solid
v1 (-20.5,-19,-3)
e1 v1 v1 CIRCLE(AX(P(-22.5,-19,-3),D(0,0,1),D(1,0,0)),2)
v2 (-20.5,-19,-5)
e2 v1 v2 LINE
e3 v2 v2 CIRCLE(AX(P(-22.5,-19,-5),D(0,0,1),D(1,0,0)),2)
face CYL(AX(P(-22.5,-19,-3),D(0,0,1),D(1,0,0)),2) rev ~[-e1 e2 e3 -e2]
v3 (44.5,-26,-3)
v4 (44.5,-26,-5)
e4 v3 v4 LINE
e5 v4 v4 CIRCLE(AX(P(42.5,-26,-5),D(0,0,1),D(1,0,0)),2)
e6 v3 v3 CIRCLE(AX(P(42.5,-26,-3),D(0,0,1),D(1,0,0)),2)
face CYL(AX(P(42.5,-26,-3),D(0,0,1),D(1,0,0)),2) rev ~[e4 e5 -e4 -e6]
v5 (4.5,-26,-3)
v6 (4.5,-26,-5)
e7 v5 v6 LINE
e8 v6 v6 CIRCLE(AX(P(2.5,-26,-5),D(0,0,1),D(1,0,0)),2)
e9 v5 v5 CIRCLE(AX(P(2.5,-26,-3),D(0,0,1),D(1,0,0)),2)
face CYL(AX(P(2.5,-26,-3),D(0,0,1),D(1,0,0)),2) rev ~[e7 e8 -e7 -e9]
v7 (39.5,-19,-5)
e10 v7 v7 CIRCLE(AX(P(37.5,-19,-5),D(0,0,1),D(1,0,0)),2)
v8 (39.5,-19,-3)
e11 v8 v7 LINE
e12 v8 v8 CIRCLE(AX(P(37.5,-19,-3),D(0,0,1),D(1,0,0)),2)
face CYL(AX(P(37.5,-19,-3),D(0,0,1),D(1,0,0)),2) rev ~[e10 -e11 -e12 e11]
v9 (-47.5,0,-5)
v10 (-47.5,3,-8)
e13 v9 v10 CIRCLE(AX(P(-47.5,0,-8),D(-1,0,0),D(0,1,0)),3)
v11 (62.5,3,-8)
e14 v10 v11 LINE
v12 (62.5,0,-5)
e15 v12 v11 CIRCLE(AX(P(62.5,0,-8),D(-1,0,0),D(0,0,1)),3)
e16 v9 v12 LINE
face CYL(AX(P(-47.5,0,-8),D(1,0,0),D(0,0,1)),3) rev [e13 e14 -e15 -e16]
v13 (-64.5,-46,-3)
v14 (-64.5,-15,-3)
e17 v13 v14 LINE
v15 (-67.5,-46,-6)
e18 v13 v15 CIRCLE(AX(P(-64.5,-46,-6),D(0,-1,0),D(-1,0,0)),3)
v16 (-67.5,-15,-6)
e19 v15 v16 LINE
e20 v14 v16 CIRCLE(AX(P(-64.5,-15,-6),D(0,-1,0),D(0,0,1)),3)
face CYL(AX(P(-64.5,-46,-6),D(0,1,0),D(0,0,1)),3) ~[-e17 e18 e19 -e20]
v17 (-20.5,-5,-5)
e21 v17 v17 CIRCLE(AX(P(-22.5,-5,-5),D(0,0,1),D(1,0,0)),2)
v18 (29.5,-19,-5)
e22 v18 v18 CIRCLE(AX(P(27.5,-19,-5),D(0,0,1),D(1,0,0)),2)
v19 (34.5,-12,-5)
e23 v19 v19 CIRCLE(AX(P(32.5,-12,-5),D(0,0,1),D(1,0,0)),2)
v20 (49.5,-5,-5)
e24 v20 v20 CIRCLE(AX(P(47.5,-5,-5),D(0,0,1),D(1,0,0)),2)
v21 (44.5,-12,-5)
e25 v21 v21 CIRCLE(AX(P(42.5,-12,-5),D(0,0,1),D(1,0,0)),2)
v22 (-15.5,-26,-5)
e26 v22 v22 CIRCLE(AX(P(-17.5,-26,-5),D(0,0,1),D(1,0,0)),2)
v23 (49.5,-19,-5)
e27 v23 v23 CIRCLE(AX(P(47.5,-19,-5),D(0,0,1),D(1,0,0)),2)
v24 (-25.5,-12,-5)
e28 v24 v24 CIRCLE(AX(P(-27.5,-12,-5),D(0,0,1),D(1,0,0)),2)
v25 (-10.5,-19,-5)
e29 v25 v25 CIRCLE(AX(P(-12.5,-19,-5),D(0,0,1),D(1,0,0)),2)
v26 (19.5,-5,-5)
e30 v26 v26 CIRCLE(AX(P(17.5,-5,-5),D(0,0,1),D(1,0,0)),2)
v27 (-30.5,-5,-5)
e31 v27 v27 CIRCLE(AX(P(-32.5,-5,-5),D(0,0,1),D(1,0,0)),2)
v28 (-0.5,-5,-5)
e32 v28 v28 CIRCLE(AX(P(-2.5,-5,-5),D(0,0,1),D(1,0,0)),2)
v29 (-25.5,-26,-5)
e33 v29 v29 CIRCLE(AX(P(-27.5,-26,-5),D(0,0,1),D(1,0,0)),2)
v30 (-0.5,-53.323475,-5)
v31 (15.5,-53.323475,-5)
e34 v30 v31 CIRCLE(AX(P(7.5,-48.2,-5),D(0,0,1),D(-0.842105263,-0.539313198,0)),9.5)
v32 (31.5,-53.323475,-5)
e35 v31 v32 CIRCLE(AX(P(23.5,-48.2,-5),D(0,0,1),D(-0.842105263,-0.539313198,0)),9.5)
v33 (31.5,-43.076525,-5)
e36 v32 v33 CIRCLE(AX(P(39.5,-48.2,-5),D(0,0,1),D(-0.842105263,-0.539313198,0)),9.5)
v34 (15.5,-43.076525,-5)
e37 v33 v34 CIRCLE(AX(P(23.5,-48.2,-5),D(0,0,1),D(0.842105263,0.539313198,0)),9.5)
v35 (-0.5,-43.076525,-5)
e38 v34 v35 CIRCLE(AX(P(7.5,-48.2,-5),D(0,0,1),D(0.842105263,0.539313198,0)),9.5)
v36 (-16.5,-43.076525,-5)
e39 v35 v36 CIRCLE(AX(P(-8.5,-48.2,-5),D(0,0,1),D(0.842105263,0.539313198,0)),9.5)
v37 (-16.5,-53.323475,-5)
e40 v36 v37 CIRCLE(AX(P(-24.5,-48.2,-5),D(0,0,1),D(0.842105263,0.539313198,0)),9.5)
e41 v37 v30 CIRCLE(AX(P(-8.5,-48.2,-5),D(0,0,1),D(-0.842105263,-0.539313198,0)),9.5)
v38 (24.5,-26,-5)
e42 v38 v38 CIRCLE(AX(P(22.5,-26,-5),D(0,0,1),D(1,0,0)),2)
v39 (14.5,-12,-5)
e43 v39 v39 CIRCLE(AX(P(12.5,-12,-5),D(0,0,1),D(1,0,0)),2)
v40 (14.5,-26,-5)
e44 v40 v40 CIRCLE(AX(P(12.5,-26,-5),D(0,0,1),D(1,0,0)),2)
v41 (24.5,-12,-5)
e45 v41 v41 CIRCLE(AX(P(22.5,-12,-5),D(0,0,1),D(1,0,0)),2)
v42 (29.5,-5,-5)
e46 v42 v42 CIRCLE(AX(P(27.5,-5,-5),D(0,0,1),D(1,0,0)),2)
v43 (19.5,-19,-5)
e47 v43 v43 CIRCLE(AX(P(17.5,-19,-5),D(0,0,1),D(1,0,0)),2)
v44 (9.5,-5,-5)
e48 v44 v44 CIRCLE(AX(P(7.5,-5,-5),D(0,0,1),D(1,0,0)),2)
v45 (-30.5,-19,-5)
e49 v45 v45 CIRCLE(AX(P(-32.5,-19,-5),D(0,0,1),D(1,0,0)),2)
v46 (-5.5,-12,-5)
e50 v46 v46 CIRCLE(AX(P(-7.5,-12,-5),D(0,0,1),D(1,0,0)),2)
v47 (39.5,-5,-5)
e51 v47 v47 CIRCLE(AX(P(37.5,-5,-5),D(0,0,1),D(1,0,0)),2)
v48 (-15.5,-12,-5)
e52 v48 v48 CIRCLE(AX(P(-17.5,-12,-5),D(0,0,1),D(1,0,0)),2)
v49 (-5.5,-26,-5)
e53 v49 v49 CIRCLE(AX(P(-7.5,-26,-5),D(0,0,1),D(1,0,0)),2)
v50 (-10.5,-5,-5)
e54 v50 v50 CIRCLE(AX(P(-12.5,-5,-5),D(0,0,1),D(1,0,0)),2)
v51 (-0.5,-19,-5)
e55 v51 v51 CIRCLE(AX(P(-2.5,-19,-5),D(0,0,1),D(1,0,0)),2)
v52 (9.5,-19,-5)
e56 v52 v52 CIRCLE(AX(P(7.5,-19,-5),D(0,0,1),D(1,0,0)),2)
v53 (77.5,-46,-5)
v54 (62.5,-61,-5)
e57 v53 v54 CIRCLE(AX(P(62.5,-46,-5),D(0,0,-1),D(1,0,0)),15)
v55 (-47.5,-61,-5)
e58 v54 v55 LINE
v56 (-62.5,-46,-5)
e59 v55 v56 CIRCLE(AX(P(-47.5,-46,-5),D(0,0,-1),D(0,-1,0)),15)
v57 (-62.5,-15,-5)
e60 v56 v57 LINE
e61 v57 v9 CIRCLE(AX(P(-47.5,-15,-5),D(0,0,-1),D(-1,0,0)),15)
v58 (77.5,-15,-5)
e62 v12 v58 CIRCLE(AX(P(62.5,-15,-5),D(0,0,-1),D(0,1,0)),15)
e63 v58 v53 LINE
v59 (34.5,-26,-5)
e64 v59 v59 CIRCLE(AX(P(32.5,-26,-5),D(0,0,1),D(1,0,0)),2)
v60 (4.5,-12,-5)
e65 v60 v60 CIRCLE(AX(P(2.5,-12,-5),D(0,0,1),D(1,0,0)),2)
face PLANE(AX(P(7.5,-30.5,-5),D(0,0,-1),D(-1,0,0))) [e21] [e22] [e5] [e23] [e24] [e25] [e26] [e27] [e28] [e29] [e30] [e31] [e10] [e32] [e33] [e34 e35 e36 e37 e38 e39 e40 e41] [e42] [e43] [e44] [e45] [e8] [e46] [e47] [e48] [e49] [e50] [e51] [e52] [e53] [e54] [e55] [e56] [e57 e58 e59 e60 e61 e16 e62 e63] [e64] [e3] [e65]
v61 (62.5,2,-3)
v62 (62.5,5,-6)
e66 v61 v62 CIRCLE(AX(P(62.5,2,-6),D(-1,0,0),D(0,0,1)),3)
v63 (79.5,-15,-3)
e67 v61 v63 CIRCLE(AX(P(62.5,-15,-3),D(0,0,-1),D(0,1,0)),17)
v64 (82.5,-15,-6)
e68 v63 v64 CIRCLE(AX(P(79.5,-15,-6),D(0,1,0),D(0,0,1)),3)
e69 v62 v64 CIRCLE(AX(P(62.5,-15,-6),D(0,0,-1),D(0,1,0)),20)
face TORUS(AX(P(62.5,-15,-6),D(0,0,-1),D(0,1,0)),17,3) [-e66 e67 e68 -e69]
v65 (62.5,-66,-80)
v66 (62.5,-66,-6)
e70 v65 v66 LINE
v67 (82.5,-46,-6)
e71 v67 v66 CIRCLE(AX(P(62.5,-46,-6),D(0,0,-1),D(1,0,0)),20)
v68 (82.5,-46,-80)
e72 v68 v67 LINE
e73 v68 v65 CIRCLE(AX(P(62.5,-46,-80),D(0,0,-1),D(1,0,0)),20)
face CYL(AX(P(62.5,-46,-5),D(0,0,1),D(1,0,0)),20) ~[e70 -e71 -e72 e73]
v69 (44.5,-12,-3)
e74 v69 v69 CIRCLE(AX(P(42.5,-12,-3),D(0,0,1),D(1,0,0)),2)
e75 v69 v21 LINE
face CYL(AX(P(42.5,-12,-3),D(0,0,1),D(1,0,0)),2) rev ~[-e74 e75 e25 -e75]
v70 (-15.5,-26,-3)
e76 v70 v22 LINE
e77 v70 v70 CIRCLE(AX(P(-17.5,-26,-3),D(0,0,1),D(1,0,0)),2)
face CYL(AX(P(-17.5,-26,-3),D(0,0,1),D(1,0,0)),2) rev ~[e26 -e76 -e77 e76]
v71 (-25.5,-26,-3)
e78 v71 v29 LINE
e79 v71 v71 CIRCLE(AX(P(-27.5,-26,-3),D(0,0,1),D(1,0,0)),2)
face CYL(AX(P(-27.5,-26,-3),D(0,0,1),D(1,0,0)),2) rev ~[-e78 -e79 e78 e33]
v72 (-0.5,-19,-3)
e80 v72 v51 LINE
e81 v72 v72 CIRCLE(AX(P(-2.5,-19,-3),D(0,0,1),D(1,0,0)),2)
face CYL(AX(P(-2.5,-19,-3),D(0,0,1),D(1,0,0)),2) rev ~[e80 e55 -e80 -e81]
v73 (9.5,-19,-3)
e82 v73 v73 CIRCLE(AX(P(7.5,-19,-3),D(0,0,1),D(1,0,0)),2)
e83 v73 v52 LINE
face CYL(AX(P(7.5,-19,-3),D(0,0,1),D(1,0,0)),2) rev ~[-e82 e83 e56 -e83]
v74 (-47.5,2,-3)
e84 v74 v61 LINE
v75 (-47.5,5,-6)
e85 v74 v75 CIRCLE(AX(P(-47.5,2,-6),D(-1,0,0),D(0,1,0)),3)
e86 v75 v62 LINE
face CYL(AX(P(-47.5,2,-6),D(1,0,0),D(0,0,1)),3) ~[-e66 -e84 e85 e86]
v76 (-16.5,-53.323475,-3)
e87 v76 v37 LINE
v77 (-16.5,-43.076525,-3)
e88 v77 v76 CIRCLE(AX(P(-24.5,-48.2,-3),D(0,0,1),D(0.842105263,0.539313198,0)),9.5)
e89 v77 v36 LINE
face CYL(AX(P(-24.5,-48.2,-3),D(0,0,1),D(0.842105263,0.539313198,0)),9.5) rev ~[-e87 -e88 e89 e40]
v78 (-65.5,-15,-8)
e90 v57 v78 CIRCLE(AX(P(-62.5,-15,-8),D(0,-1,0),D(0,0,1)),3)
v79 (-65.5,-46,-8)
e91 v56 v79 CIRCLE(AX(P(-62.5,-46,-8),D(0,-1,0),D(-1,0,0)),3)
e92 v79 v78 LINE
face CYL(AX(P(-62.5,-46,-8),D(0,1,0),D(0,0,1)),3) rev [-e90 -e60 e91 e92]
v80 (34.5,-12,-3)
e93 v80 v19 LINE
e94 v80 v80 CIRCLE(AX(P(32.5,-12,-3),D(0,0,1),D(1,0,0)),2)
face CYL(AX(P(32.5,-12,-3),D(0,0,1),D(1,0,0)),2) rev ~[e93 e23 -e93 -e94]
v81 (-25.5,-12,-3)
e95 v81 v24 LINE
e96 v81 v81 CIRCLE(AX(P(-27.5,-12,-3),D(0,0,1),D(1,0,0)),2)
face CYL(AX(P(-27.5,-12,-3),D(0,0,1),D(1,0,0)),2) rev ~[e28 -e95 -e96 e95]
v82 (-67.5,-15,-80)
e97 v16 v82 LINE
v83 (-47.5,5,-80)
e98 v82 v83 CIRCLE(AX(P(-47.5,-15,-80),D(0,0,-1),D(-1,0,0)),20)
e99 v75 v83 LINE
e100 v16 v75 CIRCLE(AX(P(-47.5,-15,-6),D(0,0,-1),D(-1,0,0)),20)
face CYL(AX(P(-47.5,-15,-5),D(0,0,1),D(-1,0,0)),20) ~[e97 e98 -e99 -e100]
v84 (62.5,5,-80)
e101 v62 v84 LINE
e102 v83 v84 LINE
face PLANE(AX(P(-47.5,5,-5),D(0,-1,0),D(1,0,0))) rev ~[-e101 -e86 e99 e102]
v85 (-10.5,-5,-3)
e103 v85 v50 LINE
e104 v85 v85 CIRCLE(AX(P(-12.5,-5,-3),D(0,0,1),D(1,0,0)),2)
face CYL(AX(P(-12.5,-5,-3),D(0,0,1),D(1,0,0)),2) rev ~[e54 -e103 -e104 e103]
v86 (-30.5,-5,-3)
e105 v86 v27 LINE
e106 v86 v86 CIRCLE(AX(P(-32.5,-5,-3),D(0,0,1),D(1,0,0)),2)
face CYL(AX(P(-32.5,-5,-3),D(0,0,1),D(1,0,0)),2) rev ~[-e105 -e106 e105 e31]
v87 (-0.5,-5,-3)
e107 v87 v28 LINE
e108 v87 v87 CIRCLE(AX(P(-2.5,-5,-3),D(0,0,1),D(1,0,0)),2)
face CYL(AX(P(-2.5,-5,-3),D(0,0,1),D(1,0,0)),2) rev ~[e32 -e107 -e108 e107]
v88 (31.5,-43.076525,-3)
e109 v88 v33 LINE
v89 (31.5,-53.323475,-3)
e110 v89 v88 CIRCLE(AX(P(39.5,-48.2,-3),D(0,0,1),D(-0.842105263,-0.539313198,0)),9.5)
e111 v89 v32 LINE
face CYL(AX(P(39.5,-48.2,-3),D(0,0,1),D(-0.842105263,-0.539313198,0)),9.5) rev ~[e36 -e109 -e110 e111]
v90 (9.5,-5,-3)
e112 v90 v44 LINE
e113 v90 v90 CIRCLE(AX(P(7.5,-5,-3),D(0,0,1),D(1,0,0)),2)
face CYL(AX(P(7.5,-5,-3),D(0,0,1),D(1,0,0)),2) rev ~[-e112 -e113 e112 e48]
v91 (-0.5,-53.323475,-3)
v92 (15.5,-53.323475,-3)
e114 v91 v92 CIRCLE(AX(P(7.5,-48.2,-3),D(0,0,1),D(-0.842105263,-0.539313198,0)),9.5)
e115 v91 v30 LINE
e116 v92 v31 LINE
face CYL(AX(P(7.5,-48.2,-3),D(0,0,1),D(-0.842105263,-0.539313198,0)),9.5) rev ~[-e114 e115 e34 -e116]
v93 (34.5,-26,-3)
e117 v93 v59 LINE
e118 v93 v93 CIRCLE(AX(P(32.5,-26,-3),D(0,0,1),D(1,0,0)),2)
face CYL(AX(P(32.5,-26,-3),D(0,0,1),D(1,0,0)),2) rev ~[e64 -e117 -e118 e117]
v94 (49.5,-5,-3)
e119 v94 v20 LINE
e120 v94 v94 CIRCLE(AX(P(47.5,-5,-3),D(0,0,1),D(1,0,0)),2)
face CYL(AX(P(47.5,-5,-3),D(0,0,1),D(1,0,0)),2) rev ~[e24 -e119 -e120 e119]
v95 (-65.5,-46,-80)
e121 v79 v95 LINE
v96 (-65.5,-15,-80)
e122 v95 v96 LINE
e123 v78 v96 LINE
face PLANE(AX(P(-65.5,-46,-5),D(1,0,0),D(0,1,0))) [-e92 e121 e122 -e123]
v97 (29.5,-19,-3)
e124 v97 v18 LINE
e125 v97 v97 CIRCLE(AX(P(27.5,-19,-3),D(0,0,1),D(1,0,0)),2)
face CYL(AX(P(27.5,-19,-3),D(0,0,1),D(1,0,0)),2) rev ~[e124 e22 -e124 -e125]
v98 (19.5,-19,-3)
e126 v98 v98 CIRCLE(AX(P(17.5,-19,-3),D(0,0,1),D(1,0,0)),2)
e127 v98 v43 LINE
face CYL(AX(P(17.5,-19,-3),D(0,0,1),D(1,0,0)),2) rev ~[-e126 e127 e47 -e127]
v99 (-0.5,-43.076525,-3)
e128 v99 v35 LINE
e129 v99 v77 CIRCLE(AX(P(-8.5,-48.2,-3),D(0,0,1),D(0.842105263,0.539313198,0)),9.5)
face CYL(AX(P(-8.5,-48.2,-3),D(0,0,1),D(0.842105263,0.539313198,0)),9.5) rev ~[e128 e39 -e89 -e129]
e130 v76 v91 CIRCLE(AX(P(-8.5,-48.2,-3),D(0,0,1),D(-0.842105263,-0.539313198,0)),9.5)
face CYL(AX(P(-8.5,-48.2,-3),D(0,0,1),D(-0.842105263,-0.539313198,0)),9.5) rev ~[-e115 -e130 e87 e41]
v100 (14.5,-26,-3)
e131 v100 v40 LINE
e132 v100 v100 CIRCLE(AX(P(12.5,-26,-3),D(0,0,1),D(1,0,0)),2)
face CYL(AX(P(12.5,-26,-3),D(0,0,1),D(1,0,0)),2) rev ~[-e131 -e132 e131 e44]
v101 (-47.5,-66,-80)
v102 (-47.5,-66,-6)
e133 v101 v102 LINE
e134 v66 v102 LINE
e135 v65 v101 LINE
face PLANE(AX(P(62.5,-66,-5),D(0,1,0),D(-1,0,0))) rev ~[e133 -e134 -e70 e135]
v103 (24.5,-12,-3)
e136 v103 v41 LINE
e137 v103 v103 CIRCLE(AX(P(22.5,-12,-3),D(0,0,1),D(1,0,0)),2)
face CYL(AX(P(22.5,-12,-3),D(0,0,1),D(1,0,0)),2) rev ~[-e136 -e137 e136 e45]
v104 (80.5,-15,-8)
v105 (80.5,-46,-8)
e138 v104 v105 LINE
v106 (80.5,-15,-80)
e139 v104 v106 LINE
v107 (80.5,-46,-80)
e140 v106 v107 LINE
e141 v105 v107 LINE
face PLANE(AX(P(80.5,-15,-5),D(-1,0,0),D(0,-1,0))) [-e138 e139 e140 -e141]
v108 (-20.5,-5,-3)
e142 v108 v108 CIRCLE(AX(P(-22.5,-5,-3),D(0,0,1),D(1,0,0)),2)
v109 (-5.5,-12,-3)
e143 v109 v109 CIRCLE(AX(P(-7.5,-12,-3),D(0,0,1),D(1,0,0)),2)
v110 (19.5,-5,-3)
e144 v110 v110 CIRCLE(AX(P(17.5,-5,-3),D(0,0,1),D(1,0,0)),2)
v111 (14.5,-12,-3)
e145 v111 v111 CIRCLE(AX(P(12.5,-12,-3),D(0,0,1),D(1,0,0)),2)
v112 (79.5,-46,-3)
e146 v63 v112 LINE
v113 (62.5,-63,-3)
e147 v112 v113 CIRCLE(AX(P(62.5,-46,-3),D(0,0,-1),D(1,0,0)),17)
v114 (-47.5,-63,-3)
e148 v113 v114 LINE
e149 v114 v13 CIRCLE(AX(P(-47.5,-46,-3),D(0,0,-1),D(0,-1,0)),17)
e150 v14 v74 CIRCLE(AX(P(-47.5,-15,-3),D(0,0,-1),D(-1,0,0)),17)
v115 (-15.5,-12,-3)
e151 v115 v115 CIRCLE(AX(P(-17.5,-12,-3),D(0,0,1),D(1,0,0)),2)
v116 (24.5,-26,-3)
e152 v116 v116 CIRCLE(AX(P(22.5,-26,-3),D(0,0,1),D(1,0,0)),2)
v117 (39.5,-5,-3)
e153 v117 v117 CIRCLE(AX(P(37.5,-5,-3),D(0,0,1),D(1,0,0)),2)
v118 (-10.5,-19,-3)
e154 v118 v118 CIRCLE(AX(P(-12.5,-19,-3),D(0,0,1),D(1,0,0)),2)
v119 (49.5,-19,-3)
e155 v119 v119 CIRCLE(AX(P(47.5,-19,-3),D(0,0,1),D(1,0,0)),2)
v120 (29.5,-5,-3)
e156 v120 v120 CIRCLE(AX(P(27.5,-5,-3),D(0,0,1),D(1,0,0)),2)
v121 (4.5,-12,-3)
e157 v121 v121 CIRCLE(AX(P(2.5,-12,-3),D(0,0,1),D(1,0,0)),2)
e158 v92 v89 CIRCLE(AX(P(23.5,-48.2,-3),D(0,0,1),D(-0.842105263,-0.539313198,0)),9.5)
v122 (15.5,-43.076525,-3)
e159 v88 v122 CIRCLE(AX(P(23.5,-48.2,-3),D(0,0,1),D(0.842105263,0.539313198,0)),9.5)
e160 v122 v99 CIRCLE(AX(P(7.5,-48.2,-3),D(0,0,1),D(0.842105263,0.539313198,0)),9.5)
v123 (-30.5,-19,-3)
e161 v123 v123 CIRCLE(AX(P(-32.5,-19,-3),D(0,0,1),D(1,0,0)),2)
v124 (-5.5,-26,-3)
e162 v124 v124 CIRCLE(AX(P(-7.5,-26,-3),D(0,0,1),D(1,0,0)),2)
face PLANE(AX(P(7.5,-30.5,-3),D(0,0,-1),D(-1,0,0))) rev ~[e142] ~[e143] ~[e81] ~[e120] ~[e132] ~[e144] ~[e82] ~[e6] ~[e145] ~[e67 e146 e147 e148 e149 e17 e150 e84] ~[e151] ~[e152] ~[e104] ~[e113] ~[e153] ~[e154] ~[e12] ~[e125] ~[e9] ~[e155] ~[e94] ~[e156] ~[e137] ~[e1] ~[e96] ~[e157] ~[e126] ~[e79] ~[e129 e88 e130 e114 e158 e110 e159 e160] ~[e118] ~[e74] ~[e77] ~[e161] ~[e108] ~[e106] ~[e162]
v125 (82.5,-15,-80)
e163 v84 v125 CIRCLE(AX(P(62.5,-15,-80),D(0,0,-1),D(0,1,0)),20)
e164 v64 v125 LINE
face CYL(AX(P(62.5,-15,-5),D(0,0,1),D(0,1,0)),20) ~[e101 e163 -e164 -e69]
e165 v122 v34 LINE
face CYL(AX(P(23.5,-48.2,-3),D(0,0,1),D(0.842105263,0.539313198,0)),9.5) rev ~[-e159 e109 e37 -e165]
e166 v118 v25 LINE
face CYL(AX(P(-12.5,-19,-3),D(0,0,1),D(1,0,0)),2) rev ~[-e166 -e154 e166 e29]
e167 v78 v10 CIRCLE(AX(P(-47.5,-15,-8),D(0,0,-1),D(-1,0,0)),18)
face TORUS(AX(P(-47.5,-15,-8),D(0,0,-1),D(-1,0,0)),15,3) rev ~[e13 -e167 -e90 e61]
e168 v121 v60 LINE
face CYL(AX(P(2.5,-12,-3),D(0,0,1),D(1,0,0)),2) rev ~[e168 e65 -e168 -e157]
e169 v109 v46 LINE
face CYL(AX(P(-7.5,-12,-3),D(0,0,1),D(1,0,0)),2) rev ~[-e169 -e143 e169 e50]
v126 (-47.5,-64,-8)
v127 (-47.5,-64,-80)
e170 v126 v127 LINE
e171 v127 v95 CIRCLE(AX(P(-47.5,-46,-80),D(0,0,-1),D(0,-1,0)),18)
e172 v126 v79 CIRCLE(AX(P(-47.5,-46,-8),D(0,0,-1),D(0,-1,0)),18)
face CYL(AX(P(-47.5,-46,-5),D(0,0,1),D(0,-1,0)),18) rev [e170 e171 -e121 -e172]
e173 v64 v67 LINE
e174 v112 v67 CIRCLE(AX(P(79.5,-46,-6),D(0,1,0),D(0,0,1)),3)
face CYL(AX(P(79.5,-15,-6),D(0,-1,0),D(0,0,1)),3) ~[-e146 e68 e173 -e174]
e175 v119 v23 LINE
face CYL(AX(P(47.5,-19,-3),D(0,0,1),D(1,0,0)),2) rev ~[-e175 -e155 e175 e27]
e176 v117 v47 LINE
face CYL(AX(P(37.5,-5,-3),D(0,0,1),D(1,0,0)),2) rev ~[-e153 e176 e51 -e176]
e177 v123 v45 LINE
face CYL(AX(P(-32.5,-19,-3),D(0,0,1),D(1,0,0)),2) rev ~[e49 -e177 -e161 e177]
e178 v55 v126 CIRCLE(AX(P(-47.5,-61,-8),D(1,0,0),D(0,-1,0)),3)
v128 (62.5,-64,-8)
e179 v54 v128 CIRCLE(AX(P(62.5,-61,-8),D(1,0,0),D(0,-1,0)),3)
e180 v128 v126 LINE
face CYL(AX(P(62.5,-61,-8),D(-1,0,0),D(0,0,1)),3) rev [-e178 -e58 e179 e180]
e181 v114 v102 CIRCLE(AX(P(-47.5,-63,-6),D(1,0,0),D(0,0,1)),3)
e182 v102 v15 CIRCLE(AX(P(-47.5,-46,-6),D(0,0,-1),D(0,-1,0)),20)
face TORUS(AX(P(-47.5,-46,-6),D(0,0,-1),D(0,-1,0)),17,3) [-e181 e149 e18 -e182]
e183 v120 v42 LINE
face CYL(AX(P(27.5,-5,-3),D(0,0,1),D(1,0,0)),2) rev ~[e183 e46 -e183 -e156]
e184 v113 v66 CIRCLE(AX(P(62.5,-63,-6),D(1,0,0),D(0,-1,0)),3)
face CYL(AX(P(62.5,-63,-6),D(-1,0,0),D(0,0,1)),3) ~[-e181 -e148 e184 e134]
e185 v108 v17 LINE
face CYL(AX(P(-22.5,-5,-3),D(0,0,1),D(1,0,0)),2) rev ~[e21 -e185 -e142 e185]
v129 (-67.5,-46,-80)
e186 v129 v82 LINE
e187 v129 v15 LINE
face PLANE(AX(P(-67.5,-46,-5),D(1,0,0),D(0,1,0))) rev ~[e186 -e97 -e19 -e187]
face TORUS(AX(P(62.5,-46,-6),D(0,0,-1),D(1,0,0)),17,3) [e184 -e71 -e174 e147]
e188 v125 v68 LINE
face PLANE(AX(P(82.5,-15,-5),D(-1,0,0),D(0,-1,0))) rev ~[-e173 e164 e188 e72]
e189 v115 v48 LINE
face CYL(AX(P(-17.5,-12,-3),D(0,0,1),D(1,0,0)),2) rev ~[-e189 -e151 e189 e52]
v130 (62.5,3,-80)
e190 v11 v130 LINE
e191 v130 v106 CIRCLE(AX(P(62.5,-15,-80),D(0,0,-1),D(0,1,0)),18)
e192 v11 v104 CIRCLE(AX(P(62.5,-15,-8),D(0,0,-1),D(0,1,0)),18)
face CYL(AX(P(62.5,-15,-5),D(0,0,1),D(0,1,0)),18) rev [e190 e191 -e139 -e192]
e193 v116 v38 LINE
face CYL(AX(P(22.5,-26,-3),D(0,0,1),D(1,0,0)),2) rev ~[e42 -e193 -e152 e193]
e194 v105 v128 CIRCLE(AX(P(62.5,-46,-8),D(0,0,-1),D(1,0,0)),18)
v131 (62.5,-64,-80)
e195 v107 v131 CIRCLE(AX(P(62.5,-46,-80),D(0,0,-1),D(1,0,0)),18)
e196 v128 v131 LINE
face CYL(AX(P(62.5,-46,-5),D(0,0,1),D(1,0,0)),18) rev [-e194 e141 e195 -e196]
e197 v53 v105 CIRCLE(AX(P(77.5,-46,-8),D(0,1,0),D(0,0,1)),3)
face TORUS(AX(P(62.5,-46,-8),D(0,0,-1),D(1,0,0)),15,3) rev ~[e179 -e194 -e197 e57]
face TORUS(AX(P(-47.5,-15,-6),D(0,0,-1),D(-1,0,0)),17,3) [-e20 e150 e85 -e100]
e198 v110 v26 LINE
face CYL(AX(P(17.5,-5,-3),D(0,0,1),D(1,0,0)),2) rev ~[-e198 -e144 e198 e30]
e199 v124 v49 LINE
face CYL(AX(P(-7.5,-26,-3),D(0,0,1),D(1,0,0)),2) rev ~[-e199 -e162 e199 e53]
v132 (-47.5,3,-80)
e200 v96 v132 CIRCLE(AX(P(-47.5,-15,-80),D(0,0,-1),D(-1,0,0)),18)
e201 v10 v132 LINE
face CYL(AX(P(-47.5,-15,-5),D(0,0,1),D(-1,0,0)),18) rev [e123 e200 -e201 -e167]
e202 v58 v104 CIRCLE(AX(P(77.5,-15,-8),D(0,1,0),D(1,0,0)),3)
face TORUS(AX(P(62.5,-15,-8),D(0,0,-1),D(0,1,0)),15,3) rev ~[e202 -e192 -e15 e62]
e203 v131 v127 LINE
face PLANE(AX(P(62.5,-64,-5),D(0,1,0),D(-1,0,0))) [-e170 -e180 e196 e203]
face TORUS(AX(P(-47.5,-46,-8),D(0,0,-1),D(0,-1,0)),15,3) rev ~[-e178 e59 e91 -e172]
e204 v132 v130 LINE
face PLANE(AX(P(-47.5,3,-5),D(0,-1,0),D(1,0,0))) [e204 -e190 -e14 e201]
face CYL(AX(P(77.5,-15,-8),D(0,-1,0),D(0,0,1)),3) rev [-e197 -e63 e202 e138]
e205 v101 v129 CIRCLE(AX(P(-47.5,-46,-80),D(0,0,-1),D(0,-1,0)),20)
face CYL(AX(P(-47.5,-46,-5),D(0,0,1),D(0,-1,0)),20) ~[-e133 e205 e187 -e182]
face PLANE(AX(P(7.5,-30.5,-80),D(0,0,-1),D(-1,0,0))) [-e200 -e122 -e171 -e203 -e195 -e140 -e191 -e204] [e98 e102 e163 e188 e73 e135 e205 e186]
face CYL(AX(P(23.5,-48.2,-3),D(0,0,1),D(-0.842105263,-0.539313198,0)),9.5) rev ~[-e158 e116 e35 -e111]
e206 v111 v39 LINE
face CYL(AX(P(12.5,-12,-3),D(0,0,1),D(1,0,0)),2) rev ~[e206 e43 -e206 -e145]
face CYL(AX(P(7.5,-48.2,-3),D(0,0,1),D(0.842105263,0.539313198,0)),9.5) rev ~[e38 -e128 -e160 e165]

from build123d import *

# Parameters (mm, degrees)
SKETCH3_R           = 2
BOSS_EXTRUDE1_DEPTH = 2
BOSS_EXTRUDE2_DEPTH = 75
FILLET1_R           = 3


with BuildPart() as part:
    # Sketch3 → Boss-Extrude1 (new body)
    with BuildSketch(Plane.XY.offset(-3)):
        with BuildLine():
            Line((62.5, -66), (-47.5, -66))
            ThreePointArc((-47.5, -66), (-61.642135624, -60.142135624), (-67.5, -46))
            Line((-67.5, -46), (-67.5, -15))
            ThreePointArc((-67.5, -15), (-61.642135624, -0.857864376), (-47.5, 5))
            Line((-47.5, 5), (62.5, 5))
            ThreePointArc((62.5, 5), (76.642135624, -0.857864376), (82.5, -15))
            Line((82.5, -15), (82.5, -46))
            ThreePointArc((82.5, -46), (76.642135624, -60.142135624), (62.5, -66))
        make_face()
        with Locations((2.5, -12)):
            Circle(SKETCH3_R, mode=Mode.SUBTRACT)
        with Locations((12.5, -12)):
            Circle(SKETCH3_R, mode=Mode.SUBTRACT)
        with Locations((22.5, -12)):
            Circle(SKETCH3_R, mode=Mode.SUBTRACT)
        with Locations((32.5, -12)):
            Circle(SKETCH3_R, mode=Mode.SUBTRACT)
        with Locations((42.5, -12)):
            Circle(SKETCH3_R, mode=Mode.SUBTRACT)
        with Locations((-7.5, -12)):
            Circle(SKETCH3_R, mode=Mode.SUBTRACT)
        with Locations((-17.5, -12)):
            Circle(SKETCH3_R, mode=Mode.SUBTRACT)
        with Locations((-27.5, -12)):
            Circle(SKETCH3_R, mode=Mode.SUBTRACT)
        with Locations((7.5, -5)):
            Circle(SKETCH3_R, mode=Mode.SUBTRACT)
        with Locations((17.5, -5)):
            Circle(SKETCH3_R, mode=Mode.SUBTRACT)
        with Locations((27.5, -5)):
            Circle(SKETCH3_R, mode=Mode.SUBTRACT)
        with Locations((37.5, -5)):
            Circle(SKETCH3_R, mode=Mode.SUBTRACT)
        with Locations((47.5, -5)):
            Circle(SKETCH3_R, mode=Mode.SUBTRACT)
        with Locations((-2.5, -5)):
            Circle(SKETCH3_R, mode=Mode.SUBTRACT)
        with Locations((-12.5, -5)):
            Circle(SKETCH3_R, mode=Mode.SUBTRACT)
        with Locations((-22.5, -5)):
            Circle(SKETCH3_R, mode=Mode.SUBTRACT)
        with Locations((-32.5, -5)):
            Circle(SKETCH3_R, mode=Mode.SUBTRACT)
        with Locations((2.5, -26)):
            Circle(SKETCH3_R, mode=Mode.SUBTRACT)
        with Locations((12.5, -26)):
            Circle(SKETCH3_R, mode=Mode.SUBTRACT)
        with Locations((22.5, -26)):
            Circle(SKETCH3_R, mode=Mode.SUBTRACT)
        with Locations((32.5, -26)):
            Circle(SKETCH3_R, mode=Mode.SUBTRACT)
        with Locations((42.5, -26)):
            Circle(SKETCH3_R, mode=Mode.SUBTRACT)
        with Locations((-7.5, -26)):
            Circle(SKETCH3_R, mode=Mode.SUBTRACT)
        with Locations((-17.5, -26)):
            Circle(SKETCH3_R, mode=Mode.SUBTRACT)
        with Locations((-27.5, -26)):
            Circle(SKETCH3_R, mode=Mode.SUBTRACT)
        with Locations((7.5, -19)):
            Circle(SKETCH3_R, mode=Mode.SUBTRACT)
        with Locations((17.5, -19)):
            Circle(SKETCH3_R, mode=Mode.SUBTRACT)
        with Locations((27.5, -19)):
            Circle(SKETCH3_R, mode=Mode.SUBTRACT)
        with Locations((37.5, -19)):
            Circle(SKETCH3_R, mode=Mode.SUBTRACT)
        with Locations((47.5, -19)):
            Circle(SKETCH3_R, mode=Mode.SUBTRACT)
        with Locations((-2.5, -19)):
            Circle(SKETCH3_R, mode=Mode.SUBTRACT)
        with Locations((-12.5, -19)):
            Circle(SKETCH3_R, mode=Mode.SUBTRACT)
        with Locations((-22.5, -19)):
            Circle(SKETCH3_R, mode=Mode.SUBTRACT)
        with Locations((-32.5, -19)):
            Circle(SKETCH3_R, mode=Mode.SUBTRACT)
        with BuildLine():
            ThreePointArc((31.5, -53.323475383), (49, -48.2), (31.5, -43.076524617))
            ThreePointArc((31.5, -43.076524617), (23.5, -38.7), (15.5, -43.076524617))
            ThreePointArc((15.5, -43.076524617), (7.5, -38.7), (-0.5, -43.076524617))
            ThreePointArc((-0.5, -43.076524617), (-8.5, -38.7), (-16.5, -43.076524617))
            ThreePointArc((-16.5, -43.076524617), (-34, -48.2), (-16.5, -53.323475383))
            ThreePointArc((-16.5, -53.323475383), (-8.5, -57.7), (-0.5, -53.323475383))
            ThreePointArc((-0.5, -53.323475383), (7.5, -57.7), (15.5, -53.323475383))
            ThreePointArc((15.5, -53.323475383), (23.5, -57.7), (31.5, -53.323475383))
        make_face(mode=Mode.SUBTRACT)
    extrude(amount=-BOSS_EXTRUDE1_DEPTH)

    # Sketch5 → Boss-Extrude2 (add)
    with BuildSketch(Plane(origin=(0, 0, -5), x_dir=(-1, 0, 0), z_dir=(0, 0, -1))):
        with BuildLine():
            Line((67.5, -46), (67.5, -15))
            ThreePointArc((67.5, -15), (61.642135624, -0.857864376), (47.5, 5))
            Line((47.5, 5), (-62.5, 5))
            ThreePointArc((-62.5, 5), (-76.642135624, -0.857864376), (-82.5, -15))
            Line((-82.5, -15), (-82.5, -46))
            ThreePointArc((-82.5, -46), (-76.642135624, -60.142135624), (-62.5, -66))
            Line((-62.5, -66), (47.5, -66))
            ThreePointArc((47.5, -66), (61.642135624, -60.142135624), (67.5, -46))
        make_face()
        with BuildLine():
            Line((65.5, -46), (65.5, -15))
            ThreePointArc((65.5, -15), (60.227922061, -2.272077939), (47.5, 3))
            Line((47.5, 3), (-62.5, 3))
            ThreePointArc((-62.5, 3), (-75.227922061, -2.272077939), (-80.5, -15))
            Line((-80.5, -15), (-80.5, -46))
            ThreePointArc((-80.5, -46), (-75.227922061, -58.727922061), (-62.5, -64))
            Line((-62.5, -64), (47.5, -64))
            ThreePointArc((47.5, -64), (60.227922061, -58.727922061), (65.5, -46))
        make_face(mode=Mode.SUBTRACT)
    extrude(amount=BOSS_EXTRUDE2_DEPTH)

    # Fillet1
    fillet1_edges = [part.edges().sort_by_distance(p)[0] for p in [
        (82.5, -30.5, -3),
        (76.642135624, -60.142135624, -3),
        (7.5, -66, -3),
        (-61.642135624, -60.142135624, -3),
        (-60.227922061, -58.727922061, -5),
        (-65.5, -30.5, -5),
        (-60.227922061, -2.272077939, -5),
        (7.5, 3, -5),
        (75.227922061, -2.272077939, -5),
        (80.5, -30.5, -5),
        (75.227922061, -58.727922061, -5),
        (7.5, -64, -5),
        (-67.5, -30.5, -3),
        (-61.642135624, -0.857864376, -3),
        (7.5, 5, -3),
        (76.642135624, -0.857864376, -3),
    ]]
    fillet(fillet1_edges, radius=FILLET1_R)


solid = part.part
